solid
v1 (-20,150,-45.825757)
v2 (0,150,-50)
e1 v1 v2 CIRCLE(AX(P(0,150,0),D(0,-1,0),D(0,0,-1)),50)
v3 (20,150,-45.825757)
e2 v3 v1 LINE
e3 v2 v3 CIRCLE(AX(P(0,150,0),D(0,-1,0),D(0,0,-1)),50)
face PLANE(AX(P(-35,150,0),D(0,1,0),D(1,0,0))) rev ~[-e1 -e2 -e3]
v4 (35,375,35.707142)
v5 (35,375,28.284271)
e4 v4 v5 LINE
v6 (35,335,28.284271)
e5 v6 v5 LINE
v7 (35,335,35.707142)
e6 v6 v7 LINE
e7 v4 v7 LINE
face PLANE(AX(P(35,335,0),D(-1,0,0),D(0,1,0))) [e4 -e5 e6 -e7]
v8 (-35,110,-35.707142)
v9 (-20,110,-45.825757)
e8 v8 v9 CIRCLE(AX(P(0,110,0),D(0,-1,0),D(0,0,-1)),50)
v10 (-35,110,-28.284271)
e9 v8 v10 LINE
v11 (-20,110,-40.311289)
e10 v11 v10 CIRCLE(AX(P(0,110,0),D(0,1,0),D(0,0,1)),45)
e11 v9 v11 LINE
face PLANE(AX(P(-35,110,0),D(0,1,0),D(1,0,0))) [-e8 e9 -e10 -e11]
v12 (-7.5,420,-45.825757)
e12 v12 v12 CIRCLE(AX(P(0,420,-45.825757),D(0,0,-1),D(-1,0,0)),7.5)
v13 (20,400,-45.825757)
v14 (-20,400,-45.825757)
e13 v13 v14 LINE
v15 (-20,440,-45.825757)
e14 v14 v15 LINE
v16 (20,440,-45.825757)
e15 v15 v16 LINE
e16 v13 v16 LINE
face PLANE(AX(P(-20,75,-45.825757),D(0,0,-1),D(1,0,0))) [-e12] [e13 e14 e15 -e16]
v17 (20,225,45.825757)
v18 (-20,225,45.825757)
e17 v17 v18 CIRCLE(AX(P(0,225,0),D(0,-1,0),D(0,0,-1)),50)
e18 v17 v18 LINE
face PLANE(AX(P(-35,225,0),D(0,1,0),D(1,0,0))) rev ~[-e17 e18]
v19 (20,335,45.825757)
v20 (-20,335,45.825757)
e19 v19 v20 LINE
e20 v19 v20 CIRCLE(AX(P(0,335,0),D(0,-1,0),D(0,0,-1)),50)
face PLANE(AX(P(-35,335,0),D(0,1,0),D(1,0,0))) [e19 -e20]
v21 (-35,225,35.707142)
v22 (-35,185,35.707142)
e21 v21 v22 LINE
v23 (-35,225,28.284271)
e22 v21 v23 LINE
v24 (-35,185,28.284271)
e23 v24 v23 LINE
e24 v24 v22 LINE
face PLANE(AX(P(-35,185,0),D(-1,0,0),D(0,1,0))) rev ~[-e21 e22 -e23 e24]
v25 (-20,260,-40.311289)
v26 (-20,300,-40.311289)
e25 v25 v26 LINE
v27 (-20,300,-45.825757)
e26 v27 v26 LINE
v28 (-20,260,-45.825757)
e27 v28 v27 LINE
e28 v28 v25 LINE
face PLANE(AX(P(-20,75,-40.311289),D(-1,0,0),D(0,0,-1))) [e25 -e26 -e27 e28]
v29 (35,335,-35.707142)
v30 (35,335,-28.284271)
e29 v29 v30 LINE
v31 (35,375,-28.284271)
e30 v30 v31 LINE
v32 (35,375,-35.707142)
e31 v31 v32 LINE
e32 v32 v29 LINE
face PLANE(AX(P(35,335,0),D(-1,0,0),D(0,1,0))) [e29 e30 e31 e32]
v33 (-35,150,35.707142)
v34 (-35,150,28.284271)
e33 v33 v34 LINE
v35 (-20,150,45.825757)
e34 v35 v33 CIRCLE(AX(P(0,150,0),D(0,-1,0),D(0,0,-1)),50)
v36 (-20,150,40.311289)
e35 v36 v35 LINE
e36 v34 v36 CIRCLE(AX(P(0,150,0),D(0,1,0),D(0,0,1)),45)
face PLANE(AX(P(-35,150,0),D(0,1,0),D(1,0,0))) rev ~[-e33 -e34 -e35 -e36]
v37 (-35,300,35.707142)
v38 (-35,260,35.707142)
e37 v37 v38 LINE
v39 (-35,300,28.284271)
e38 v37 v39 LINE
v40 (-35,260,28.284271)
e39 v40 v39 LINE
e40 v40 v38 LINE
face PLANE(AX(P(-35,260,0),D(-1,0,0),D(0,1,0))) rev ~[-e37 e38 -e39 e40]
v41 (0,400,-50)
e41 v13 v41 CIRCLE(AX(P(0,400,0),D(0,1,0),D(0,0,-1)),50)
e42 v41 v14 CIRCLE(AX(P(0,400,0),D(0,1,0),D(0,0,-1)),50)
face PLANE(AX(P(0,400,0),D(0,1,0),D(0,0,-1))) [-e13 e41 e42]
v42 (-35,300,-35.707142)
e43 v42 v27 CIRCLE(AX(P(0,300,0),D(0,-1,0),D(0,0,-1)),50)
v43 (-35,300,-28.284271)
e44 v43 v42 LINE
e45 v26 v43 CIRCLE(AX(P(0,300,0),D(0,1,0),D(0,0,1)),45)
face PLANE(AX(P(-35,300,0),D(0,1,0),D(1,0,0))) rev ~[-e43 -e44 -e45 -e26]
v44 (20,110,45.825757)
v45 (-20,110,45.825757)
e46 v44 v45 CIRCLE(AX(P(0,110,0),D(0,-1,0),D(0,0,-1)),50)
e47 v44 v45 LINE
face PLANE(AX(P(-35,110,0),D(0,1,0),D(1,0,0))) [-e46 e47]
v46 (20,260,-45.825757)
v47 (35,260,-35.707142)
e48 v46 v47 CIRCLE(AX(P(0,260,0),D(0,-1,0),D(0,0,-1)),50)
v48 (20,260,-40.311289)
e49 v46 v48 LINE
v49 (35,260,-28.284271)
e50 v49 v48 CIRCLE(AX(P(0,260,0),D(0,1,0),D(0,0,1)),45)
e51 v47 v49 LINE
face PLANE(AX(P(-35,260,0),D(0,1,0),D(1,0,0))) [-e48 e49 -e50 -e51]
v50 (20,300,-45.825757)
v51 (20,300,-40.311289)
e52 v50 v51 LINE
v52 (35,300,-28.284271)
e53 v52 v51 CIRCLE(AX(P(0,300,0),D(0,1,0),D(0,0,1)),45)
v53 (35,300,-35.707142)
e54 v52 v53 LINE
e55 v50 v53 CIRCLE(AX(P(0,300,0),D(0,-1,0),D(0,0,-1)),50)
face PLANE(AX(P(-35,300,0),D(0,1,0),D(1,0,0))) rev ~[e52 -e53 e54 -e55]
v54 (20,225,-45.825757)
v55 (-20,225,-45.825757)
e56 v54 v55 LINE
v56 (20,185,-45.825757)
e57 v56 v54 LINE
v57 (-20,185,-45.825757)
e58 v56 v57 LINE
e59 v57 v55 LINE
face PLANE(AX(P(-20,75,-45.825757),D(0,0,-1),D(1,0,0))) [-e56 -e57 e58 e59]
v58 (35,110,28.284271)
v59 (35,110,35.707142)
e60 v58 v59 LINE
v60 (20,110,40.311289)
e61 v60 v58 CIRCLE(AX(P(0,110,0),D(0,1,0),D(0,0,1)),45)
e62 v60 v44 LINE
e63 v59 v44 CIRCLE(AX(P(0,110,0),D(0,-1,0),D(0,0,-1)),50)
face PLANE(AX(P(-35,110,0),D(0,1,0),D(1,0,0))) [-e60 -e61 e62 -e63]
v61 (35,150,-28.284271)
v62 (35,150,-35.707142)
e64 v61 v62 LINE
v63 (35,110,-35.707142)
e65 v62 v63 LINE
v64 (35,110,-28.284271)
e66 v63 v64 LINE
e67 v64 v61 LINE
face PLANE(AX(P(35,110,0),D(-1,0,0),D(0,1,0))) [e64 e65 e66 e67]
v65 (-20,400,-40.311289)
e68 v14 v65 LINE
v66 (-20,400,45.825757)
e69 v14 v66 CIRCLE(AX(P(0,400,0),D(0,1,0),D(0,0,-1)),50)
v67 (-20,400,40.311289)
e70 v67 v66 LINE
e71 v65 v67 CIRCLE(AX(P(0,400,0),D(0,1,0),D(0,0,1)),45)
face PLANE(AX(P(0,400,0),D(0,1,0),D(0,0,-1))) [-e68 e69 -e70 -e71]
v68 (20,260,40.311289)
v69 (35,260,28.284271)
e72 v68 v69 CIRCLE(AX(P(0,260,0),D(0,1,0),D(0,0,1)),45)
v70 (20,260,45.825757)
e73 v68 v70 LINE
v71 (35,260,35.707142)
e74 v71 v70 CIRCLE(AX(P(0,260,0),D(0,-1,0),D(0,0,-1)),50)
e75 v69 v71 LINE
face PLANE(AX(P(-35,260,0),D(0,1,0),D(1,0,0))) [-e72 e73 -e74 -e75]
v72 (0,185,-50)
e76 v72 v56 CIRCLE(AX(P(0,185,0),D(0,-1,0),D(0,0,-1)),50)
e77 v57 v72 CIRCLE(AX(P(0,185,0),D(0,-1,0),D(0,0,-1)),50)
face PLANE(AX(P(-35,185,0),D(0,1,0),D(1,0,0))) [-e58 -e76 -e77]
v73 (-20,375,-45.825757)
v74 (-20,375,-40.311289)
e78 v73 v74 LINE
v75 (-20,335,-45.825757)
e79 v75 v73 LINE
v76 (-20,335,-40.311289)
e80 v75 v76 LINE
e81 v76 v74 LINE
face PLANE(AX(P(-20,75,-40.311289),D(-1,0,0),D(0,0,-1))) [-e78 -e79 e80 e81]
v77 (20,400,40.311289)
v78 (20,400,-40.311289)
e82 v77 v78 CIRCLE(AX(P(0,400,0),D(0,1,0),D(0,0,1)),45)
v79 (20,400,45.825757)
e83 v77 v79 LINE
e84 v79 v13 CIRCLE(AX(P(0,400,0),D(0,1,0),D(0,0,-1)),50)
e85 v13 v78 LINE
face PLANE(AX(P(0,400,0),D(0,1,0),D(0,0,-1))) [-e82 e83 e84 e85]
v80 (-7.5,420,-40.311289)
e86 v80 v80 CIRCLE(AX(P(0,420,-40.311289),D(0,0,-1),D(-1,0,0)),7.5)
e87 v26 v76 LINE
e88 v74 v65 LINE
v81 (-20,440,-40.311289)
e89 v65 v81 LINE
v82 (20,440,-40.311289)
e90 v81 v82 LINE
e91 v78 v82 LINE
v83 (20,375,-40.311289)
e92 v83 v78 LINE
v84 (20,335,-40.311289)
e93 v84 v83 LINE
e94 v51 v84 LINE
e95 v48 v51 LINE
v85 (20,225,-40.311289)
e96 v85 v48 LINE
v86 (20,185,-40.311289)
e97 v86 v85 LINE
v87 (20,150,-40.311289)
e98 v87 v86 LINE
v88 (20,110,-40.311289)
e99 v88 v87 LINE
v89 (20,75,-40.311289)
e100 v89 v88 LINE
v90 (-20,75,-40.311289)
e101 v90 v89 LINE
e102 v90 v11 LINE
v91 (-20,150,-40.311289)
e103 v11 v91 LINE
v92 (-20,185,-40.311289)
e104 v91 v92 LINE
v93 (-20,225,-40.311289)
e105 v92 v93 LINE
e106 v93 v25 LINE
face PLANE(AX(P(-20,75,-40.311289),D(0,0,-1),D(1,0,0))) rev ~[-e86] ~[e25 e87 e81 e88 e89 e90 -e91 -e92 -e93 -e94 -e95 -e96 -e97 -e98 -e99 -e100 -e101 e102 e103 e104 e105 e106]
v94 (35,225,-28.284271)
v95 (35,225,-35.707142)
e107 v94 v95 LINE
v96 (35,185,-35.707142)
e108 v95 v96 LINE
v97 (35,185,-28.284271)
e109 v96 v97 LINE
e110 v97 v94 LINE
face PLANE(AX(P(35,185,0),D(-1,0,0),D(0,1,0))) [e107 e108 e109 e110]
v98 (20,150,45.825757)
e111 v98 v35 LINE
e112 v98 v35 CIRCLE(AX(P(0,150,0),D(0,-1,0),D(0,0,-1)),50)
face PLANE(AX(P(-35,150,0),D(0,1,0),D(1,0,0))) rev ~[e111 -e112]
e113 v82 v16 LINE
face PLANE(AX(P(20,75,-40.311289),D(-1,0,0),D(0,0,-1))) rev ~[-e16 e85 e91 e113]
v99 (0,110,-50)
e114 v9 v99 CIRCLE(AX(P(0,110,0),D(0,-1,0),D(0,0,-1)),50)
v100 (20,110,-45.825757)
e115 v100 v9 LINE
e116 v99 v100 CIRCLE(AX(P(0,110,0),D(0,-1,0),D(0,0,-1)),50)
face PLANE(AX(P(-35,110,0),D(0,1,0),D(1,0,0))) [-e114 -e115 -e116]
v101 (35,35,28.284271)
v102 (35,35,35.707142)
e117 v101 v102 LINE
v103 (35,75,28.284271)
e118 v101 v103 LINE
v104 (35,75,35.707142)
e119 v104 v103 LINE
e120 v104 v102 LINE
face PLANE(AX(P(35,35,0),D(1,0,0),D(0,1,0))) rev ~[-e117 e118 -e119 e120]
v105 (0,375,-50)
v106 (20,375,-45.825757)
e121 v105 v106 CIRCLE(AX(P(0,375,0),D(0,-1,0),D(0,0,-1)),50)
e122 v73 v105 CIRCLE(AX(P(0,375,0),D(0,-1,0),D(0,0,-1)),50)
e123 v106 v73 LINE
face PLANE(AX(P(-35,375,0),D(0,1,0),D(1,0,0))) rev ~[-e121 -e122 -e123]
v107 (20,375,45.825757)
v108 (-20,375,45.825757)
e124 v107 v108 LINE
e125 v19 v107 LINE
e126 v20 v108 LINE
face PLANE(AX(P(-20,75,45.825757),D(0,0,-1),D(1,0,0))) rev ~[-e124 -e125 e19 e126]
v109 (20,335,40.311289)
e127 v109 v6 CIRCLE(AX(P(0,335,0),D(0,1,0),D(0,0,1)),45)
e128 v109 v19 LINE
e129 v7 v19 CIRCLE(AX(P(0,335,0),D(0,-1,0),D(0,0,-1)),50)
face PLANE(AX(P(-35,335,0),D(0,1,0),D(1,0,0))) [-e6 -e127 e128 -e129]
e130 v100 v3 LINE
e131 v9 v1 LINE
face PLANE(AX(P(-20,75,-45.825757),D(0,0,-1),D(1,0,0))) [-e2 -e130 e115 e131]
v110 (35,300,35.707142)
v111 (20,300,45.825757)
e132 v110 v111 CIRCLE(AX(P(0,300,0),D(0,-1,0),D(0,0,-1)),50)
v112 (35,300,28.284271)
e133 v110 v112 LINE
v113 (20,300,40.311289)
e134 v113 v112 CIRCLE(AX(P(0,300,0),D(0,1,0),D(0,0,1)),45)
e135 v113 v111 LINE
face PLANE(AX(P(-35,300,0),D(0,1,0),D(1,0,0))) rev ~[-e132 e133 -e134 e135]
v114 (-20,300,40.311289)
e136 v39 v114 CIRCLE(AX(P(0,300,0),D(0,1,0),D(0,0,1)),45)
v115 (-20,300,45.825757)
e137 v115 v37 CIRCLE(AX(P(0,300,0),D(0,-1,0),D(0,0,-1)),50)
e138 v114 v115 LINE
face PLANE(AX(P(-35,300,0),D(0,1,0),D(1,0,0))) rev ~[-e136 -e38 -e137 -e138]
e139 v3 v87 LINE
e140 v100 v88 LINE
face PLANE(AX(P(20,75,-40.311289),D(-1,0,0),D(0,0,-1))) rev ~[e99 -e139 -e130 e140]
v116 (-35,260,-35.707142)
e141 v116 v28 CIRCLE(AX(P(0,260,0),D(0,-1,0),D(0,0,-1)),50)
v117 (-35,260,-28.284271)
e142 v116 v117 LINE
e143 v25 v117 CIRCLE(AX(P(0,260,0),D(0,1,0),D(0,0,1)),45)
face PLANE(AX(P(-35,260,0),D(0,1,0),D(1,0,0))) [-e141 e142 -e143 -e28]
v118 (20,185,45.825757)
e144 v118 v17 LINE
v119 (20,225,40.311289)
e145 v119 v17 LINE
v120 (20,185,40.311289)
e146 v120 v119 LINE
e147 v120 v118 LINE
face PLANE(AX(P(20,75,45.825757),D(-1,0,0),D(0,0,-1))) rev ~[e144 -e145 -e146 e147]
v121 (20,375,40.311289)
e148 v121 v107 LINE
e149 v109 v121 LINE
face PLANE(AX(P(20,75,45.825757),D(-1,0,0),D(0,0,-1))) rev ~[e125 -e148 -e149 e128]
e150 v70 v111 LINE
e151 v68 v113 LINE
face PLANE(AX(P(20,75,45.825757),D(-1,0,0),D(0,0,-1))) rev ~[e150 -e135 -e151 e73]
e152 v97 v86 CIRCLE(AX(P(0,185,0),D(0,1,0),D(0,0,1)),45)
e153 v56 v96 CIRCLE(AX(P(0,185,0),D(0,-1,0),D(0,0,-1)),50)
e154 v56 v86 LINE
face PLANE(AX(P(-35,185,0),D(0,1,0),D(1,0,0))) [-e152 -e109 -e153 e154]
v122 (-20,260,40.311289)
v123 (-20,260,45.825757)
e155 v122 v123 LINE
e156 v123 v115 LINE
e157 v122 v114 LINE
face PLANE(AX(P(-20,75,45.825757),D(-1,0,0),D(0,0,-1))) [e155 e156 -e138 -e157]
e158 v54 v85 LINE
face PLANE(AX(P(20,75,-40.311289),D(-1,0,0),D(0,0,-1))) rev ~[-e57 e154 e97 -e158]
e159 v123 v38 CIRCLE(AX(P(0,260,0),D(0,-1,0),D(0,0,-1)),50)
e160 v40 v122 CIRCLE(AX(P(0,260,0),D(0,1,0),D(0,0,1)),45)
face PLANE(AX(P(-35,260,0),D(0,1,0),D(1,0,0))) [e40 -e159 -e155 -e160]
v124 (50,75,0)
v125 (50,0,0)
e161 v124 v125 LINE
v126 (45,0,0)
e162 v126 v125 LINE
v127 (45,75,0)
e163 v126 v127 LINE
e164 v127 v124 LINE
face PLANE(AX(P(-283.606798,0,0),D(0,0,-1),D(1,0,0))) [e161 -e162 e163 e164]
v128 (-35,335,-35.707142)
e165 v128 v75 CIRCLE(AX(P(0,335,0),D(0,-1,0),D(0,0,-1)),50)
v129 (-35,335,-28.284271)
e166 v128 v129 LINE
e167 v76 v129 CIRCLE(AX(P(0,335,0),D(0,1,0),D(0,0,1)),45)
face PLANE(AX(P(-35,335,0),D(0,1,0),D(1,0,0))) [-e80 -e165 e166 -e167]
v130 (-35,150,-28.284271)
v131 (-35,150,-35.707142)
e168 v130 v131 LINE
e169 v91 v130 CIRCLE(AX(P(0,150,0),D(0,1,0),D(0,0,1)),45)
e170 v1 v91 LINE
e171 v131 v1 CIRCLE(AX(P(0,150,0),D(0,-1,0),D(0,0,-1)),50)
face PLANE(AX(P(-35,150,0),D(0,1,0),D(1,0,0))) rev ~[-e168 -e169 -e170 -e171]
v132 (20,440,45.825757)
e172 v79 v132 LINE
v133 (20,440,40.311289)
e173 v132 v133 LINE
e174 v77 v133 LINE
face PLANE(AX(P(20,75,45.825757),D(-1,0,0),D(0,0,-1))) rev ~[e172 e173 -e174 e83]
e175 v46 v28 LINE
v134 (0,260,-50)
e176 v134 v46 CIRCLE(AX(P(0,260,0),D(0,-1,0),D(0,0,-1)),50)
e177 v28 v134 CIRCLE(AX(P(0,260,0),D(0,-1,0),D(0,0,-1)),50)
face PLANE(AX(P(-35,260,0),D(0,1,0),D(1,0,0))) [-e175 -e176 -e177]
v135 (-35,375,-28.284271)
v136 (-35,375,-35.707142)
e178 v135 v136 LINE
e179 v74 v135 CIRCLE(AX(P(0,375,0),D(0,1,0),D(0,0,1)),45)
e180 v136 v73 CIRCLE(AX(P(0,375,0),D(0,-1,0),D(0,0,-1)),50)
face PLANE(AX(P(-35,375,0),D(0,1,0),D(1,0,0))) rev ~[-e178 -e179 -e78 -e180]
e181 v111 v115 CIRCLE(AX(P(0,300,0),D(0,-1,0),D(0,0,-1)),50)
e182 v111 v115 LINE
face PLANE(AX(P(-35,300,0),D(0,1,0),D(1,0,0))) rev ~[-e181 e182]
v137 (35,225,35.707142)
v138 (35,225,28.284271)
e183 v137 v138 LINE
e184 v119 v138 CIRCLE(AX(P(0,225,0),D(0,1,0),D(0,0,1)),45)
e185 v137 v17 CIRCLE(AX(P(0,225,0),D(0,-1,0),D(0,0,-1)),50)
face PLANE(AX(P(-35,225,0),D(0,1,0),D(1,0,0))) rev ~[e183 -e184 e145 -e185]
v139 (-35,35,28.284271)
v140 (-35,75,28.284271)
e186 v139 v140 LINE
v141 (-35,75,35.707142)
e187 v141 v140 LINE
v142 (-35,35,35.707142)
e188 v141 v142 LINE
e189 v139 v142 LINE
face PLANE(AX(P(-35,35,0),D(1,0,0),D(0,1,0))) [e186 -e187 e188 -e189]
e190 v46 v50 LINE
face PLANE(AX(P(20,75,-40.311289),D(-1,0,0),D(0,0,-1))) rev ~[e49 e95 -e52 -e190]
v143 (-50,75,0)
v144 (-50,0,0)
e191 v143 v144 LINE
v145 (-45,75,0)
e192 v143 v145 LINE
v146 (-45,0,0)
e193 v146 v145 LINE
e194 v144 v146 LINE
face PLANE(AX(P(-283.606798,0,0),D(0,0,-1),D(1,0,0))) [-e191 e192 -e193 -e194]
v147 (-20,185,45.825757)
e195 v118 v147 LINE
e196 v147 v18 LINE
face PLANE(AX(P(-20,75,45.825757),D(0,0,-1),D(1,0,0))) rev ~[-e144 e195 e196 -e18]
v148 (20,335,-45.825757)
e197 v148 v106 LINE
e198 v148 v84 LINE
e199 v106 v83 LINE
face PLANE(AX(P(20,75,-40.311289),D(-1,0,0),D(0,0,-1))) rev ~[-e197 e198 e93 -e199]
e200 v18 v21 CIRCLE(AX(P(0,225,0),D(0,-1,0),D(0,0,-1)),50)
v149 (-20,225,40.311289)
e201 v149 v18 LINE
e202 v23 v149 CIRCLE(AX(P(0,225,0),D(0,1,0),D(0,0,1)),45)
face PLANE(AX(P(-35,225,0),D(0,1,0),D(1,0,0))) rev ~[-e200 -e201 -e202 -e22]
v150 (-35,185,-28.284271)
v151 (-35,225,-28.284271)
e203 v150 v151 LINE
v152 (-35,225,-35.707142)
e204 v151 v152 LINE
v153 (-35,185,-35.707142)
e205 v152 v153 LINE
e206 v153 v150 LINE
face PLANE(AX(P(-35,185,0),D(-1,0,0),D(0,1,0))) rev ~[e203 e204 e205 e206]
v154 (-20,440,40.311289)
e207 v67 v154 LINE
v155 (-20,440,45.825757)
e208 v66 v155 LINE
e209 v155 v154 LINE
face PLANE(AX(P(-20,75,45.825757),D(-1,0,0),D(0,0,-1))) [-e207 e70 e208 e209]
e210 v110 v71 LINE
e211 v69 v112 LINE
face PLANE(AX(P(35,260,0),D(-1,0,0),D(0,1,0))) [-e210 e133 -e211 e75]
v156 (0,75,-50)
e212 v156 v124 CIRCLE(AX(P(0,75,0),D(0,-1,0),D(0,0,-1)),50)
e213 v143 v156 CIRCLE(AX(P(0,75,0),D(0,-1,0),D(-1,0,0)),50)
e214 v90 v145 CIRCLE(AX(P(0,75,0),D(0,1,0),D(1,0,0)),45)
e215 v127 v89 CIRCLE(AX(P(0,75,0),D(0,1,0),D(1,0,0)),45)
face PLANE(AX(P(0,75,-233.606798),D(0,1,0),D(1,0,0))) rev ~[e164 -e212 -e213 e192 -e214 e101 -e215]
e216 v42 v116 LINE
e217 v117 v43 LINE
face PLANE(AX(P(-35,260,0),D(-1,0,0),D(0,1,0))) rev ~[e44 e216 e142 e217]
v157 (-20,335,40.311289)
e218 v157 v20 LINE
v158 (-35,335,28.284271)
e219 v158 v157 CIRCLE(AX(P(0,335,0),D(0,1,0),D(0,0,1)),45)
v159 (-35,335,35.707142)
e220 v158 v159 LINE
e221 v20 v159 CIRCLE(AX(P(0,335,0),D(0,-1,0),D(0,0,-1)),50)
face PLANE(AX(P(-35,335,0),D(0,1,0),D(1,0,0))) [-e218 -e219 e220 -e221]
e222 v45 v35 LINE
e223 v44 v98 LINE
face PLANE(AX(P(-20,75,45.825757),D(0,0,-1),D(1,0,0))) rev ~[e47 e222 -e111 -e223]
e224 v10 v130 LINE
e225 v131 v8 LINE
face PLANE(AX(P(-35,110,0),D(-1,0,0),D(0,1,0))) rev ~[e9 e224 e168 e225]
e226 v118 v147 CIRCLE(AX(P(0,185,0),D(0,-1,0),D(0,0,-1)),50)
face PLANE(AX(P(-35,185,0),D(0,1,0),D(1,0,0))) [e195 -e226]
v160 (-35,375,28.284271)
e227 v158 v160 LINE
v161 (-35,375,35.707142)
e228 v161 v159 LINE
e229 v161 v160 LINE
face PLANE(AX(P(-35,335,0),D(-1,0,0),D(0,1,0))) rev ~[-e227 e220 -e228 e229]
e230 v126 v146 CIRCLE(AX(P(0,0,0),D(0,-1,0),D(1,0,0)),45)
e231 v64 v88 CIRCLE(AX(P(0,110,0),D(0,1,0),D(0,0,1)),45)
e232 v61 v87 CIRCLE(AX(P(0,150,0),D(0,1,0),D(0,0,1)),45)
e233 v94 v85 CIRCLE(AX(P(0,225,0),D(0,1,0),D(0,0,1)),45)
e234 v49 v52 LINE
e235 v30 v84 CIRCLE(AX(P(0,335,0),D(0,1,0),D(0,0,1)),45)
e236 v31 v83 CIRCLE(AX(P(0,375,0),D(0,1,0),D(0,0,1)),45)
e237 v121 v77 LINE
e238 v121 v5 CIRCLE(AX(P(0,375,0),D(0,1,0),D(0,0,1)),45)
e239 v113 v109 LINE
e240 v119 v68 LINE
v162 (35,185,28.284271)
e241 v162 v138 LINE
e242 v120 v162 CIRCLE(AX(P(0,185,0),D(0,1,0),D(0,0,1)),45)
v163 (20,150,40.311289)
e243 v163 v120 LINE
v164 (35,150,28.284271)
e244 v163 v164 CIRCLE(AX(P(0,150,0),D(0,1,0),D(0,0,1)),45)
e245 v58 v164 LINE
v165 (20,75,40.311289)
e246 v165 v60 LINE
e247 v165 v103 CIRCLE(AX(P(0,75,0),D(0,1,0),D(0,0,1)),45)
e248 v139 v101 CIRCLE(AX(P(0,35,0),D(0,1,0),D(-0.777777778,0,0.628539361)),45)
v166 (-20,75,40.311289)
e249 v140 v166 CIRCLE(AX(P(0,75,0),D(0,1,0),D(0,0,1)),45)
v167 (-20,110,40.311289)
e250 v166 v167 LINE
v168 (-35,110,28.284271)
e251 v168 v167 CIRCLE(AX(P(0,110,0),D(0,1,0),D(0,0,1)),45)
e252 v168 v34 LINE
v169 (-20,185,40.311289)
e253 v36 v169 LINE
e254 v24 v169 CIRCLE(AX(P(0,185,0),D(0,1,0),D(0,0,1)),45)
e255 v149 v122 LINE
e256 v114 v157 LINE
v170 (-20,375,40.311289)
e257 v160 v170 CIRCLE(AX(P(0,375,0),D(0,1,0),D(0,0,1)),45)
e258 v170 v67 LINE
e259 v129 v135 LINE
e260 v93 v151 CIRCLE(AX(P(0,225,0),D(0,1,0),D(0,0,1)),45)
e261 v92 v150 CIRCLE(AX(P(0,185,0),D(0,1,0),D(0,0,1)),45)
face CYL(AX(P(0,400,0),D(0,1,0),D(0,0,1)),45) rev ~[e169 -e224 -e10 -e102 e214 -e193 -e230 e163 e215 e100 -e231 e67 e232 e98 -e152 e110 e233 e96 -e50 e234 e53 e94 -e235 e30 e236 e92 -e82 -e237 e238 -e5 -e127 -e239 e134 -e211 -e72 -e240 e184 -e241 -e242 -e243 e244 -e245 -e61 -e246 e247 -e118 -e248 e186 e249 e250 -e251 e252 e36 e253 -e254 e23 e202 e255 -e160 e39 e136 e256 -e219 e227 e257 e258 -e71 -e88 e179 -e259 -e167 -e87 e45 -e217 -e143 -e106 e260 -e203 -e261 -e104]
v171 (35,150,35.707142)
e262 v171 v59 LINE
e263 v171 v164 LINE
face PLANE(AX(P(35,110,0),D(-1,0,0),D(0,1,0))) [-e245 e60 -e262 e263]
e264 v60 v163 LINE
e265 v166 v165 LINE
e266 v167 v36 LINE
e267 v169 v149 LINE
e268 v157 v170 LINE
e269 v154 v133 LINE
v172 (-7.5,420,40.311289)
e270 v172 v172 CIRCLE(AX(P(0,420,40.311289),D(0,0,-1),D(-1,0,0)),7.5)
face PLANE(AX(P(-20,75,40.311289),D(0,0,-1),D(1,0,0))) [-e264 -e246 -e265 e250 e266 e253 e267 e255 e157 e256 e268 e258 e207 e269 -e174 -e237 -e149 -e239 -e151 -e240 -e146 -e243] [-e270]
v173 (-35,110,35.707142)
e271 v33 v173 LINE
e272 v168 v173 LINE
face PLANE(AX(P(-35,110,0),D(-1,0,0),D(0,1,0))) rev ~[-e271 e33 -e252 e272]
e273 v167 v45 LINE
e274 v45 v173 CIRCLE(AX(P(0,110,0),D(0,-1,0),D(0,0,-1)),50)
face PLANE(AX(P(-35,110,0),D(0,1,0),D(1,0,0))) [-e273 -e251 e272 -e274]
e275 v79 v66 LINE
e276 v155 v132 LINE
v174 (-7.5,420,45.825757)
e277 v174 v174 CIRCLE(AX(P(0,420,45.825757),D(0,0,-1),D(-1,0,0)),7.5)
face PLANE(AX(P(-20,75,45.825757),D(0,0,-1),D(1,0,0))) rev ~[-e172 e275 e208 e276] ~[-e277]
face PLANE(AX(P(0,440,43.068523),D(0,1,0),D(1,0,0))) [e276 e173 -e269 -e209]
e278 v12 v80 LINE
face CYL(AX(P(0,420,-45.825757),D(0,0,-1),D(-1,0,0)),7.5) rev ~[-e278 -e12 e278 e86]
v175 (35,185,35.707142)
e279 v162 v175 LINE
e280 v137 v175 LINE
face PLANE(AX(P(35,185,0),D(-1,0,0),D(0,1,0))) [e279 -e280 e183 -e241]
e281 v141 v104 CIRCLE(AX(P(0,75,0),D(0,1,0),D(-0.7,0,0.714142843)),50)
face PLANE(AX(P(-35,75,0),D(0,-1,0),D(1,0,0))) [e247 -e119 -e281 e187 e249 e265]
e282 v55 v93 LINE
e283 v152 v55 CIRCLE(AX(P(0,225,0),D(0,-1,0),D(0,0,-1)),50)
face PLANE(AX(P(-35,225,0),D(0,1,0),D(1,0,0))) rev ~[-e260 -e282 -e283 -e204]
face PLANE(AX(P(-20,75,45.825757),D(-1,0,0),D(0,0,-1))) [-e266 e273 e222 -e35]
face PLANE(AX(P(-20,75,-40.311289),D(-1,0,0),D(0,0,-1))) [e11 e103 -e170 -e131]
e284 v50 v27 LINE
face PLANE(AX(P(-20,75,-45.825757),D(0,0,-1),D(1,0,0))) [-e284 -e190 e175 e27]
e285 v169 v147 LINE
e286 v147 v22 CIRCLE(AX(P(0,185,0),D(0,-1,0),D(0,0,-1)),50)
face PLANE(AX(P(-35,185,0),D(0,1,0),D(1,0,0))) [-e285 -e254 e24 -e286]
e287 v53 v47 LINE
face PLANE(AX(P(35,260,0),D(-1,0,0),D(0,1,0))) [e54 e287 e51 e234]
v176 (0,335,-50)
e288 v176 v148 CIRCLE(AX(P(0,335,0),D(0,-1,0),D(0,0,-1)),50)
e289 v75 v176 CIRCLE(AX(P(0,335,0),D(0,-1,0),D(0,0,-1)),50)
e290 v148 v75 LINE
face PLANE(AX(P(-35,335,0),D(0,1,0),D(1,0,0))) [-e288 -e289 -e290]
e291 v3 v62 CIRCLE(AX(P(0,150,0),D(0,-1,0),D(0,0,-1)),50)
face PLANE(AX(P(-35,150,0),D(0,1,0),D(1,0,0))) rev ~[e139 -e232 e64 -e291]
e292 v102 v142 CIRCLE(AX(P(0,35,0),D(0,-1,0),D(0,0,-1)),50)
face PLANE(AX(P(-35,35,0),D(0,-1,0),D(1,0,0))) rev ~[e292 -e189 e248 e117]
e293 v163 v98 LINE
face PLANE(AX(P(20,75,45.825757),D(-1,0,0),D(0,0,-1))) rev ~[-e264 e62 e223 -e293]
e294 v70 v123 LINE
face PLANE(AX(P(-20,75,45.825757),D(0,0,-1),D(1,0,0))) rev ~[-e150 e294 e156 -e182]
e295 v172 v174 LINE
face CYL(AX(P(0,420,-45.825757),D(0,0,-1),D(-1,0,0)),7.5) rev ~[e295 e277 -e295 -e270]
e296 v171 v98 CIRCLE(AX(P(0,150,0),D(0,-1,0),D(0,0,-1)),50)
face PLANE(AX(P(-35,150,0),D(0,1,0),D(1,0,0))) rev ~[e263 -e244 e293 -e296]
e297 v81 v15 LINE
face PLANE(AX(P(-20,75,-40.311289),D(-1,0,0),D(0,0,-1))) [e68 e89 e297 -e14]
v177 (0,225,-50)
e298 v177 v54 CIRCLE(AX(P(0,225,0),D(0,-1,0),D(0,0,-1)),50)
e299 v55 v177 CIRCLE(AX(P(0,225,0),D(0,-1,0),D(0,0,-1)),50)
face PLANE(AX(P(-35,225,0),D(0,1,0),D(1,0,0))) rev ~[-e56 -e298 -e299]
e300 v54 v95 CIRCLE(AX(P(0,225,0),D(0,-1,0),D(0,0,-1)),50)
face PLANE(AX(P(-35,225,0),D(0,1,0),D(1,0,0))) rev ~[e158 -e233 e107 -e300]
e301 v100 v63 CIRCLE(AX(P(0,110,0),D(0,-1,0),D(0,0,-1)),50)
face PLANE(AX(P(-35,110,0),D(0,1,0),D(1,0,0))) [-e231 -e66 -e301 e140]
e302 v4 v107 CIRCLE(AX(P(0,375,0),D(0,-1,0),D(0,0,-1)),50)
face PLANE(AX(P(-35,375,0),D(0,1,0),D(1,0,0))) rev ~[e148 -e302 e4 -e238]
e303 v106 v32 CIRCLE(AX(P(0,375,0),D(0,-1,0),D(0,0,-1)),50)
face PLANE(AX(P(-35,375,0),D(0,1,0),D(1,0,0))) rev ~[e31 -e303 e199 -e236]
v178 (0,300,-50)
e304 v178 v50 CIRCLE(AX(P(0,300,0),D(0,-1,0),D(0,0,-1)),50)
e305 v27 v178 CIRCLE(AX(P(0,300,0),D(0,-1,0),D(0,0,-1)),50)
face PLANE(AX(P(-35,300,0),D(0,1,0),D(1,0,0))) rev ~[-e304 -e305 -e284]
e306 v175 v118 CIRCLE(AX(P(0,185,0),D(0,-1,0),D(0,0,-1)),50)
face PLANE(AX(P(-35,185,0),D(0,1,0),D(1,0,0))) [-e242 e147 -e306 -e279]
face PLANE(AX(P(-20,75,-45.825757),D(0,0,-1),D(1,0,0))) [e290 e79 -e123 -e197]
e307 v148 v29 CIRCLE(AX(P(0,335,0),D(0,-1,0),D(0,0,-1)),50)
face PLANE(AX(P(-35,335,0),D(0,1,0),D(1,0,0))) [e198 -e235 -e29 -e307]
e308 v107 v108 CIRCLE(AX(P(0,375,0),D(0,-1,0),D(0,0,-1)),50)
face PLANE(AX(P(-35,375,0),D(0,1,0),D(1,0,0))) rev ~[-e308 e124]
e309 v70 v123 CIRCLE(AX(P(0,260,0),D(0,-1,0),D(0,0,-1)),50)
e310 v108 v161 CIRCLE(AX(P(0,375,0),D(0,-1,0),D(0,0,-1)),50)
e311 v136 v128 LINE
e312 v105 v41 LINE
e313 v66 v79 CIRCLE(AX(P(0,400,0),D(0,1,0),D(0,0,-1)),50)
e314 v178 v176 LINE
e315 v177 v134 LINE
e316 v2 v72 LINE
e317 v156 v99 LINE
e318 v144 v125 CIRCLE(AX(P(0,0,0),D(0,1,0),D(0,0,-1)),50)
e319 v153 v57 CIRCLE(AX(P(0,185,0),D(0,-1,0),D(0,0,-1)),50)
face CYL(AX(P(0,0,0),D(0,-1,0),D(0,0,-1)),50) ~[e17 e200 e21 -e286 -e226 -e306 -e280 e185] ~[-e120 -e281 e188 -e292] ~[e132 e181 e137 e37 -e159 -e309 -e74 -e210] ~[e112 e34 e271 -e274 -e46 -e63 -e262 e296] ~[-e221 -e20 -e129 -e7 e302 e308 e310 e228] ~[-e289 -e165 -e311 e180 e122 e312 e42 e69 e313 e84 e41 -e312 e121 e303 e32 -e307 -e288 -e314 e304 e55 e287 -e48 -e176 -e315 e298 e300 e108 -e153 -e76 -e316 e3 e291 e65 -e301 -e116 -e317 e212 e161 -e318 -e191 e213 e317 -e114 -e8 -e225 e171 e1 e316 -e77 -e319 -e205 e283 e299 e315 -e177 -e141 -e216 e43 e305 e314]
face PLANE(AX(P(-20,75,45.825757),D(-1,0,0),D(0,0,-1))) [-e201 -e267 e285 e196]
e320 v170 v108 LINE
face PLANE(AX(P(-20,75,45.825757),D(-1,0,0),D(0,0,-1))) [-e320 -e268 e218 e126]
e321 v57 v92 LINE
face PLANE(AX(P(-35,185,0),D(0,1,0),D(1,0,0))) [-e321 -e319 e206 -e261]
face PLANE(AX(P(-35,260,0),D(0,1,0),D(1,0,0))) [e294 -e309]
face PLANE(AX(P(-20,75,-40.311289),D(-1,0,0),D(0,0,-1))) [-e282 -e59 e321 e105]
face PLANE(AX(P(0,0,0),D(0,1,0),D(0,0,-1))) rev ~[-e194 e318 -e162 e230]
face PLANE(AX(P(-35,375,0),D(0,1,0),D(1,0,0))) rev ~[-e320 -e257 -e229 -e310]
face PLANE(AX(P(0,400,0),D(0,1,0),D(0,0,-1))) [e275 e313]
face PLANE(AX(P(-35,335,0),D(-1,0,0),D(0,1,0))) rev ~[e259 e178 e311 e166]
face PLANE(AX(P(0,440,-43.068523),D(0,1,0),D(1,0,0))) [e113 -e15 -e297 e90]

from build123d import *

# Parameters (mm, degrees)
SKETCH1_R           = 50
BOSS_EXTRUDE1_DEPTH = 400
SHELL1_T            = -10
SKETCH2_R           = 40
CUT_EXTRUDE1_DEPTH  = 400
SKETCH3_W           = 70
SKETCH3_H           = 40
CUT_EXTRUDE2_DEPTH  = 200
SKETCH4_R           = 45
CUT_EXTRUDE3_DEPTH  = 400
CUT_EXTRUDE7_DEPTH  = 75
BOSS_EXTRUDE3_START = -325
SKETCH9_W           = 40
SKETCH9_H           = 5.514468209
BOSS_EXTRUDE3_DEPTH = 365
SKETCH10_R          = 7.5
CUT_EXTRUDE8_DEPTH  = 454.081202098


with BuildPart() as part:
    # Sketch1 → Boss-Extrude1 (new body)
    with BuildSketch(Plane(origin=(0, 0, 0), x_dir=(1, 0, 0), z_dir=(0, 1, 0))):
        with Locations(Location((0, 0, 0), (0, 0, 90))):
            Circle(SKETCH1_R)
    extrude(amount=BOSS_EXTRUDE1_DEPTH)

    # Shell1
    shell1_openings = [part.faces().sort_by_distance(p)[0] for p in [
        (0, 0, 0),
    ]]
    offset(amount=SHELL1_T, openings=shell1_openings, kind=Kind.INTERSECTION)

    # Sketch2 → Cut-Extrude1 (cut)
    with BuildSketch(Plane.XZ.offset(-390)):
        with Locations(Location((0, 0, 0), (0, 0, 270))):
            Circle(SKETCH2_R)
    extrude(amount=-CUT_EXTRUDE1_DEPTH, mode=Mode.SUBTRACT)

    # Sketch3 → Cut-Extrude2 (cut, symmetric)
    with BuildSketch(Plane.XY):
        with Locations((0, 355)):
            Rectangle(SKETCH3_W, SKETCH3_H)
        with Locations((0, 280)):
            Rectangle(SKETCH3_W, SKETCH3_H)
        with Locations((0, 205)):
            Rectangle(SKETCH3_W, SKETCH3_H)
        with Locations((0, 130)):
            Rectangle(SKETCH3_W, SKETCH3_H)
        with Locations((0, 55)):
            Rectangle(SKETCH3_W, SKETCH3_H)
    extrude(amount=CUT_EXTRUDE2_DEPTH, both=True, mode=Mode.SUBTRACT)

    # Sketch4 → Cut-Extrude3 (cut)
    with BuildSketch(Plane(origin=(0, 400, 0), x_dir=(1, 0, 0), z_dir=(0, 1, 0))):
        with Locations(Location((0, 0, 0), (0, 0, 270))):
            Circle(SKETCH4_R)
    extrude(amount=-CUT_EXTRUDE3_DEPTH, mode=Mode.SUBTRACT)

    # Sketch8 → Cut-Extrude7 (cut)
    with BuildSketch(Plane(origin=(0, 0, 0), x_dir=(1, 0, 0), z_dir=(0, 1, 0))):
        Polygon((-283.60679775, 0), (-50, 0), (50, 0), (283.60679775, 0), (283.60679775, 467.2135955), (-283.60679775, 467.2135955), align=None)
    extrude(amount=CUT_EXTRUDE7_DEPTH, mode=Mode.SUBTRACT)

    # Sketch9 → Boss-Extrude3 (add)
    with BuildSketch(Plane(origin=(0, 400, 0), x_dir=(1, 0, 0), z_dir=(0, 1, 0)).offset(BOSS_EXTRUDE3_START)):
        with Locations((0, 43.068522846)):
            Rectangle(SKETCH9_W, SKETCH9_H)
        with Locations((0, -43.068522846)):
            Rectangle(SKETCH9_W, SKETCH9_H)
    extrude(amount=BOSS_EXTRUDE3_DEPTH)

    # Sketch10 → Cut-Extrude8 (cut, through all)
    with BuildSketch(Plane(origin=(0, 0, -45.82575695), x_dir=(-1, 0, 0), z_dir=(0, 0, -1))):
        with Locations((0, 420)):
            Circle(SKETCH10_R)
    extrude(amount=-CUT_EXTRUDE8_DEPTH, mode=Mode.SUBTRACT)


solid = part.part
